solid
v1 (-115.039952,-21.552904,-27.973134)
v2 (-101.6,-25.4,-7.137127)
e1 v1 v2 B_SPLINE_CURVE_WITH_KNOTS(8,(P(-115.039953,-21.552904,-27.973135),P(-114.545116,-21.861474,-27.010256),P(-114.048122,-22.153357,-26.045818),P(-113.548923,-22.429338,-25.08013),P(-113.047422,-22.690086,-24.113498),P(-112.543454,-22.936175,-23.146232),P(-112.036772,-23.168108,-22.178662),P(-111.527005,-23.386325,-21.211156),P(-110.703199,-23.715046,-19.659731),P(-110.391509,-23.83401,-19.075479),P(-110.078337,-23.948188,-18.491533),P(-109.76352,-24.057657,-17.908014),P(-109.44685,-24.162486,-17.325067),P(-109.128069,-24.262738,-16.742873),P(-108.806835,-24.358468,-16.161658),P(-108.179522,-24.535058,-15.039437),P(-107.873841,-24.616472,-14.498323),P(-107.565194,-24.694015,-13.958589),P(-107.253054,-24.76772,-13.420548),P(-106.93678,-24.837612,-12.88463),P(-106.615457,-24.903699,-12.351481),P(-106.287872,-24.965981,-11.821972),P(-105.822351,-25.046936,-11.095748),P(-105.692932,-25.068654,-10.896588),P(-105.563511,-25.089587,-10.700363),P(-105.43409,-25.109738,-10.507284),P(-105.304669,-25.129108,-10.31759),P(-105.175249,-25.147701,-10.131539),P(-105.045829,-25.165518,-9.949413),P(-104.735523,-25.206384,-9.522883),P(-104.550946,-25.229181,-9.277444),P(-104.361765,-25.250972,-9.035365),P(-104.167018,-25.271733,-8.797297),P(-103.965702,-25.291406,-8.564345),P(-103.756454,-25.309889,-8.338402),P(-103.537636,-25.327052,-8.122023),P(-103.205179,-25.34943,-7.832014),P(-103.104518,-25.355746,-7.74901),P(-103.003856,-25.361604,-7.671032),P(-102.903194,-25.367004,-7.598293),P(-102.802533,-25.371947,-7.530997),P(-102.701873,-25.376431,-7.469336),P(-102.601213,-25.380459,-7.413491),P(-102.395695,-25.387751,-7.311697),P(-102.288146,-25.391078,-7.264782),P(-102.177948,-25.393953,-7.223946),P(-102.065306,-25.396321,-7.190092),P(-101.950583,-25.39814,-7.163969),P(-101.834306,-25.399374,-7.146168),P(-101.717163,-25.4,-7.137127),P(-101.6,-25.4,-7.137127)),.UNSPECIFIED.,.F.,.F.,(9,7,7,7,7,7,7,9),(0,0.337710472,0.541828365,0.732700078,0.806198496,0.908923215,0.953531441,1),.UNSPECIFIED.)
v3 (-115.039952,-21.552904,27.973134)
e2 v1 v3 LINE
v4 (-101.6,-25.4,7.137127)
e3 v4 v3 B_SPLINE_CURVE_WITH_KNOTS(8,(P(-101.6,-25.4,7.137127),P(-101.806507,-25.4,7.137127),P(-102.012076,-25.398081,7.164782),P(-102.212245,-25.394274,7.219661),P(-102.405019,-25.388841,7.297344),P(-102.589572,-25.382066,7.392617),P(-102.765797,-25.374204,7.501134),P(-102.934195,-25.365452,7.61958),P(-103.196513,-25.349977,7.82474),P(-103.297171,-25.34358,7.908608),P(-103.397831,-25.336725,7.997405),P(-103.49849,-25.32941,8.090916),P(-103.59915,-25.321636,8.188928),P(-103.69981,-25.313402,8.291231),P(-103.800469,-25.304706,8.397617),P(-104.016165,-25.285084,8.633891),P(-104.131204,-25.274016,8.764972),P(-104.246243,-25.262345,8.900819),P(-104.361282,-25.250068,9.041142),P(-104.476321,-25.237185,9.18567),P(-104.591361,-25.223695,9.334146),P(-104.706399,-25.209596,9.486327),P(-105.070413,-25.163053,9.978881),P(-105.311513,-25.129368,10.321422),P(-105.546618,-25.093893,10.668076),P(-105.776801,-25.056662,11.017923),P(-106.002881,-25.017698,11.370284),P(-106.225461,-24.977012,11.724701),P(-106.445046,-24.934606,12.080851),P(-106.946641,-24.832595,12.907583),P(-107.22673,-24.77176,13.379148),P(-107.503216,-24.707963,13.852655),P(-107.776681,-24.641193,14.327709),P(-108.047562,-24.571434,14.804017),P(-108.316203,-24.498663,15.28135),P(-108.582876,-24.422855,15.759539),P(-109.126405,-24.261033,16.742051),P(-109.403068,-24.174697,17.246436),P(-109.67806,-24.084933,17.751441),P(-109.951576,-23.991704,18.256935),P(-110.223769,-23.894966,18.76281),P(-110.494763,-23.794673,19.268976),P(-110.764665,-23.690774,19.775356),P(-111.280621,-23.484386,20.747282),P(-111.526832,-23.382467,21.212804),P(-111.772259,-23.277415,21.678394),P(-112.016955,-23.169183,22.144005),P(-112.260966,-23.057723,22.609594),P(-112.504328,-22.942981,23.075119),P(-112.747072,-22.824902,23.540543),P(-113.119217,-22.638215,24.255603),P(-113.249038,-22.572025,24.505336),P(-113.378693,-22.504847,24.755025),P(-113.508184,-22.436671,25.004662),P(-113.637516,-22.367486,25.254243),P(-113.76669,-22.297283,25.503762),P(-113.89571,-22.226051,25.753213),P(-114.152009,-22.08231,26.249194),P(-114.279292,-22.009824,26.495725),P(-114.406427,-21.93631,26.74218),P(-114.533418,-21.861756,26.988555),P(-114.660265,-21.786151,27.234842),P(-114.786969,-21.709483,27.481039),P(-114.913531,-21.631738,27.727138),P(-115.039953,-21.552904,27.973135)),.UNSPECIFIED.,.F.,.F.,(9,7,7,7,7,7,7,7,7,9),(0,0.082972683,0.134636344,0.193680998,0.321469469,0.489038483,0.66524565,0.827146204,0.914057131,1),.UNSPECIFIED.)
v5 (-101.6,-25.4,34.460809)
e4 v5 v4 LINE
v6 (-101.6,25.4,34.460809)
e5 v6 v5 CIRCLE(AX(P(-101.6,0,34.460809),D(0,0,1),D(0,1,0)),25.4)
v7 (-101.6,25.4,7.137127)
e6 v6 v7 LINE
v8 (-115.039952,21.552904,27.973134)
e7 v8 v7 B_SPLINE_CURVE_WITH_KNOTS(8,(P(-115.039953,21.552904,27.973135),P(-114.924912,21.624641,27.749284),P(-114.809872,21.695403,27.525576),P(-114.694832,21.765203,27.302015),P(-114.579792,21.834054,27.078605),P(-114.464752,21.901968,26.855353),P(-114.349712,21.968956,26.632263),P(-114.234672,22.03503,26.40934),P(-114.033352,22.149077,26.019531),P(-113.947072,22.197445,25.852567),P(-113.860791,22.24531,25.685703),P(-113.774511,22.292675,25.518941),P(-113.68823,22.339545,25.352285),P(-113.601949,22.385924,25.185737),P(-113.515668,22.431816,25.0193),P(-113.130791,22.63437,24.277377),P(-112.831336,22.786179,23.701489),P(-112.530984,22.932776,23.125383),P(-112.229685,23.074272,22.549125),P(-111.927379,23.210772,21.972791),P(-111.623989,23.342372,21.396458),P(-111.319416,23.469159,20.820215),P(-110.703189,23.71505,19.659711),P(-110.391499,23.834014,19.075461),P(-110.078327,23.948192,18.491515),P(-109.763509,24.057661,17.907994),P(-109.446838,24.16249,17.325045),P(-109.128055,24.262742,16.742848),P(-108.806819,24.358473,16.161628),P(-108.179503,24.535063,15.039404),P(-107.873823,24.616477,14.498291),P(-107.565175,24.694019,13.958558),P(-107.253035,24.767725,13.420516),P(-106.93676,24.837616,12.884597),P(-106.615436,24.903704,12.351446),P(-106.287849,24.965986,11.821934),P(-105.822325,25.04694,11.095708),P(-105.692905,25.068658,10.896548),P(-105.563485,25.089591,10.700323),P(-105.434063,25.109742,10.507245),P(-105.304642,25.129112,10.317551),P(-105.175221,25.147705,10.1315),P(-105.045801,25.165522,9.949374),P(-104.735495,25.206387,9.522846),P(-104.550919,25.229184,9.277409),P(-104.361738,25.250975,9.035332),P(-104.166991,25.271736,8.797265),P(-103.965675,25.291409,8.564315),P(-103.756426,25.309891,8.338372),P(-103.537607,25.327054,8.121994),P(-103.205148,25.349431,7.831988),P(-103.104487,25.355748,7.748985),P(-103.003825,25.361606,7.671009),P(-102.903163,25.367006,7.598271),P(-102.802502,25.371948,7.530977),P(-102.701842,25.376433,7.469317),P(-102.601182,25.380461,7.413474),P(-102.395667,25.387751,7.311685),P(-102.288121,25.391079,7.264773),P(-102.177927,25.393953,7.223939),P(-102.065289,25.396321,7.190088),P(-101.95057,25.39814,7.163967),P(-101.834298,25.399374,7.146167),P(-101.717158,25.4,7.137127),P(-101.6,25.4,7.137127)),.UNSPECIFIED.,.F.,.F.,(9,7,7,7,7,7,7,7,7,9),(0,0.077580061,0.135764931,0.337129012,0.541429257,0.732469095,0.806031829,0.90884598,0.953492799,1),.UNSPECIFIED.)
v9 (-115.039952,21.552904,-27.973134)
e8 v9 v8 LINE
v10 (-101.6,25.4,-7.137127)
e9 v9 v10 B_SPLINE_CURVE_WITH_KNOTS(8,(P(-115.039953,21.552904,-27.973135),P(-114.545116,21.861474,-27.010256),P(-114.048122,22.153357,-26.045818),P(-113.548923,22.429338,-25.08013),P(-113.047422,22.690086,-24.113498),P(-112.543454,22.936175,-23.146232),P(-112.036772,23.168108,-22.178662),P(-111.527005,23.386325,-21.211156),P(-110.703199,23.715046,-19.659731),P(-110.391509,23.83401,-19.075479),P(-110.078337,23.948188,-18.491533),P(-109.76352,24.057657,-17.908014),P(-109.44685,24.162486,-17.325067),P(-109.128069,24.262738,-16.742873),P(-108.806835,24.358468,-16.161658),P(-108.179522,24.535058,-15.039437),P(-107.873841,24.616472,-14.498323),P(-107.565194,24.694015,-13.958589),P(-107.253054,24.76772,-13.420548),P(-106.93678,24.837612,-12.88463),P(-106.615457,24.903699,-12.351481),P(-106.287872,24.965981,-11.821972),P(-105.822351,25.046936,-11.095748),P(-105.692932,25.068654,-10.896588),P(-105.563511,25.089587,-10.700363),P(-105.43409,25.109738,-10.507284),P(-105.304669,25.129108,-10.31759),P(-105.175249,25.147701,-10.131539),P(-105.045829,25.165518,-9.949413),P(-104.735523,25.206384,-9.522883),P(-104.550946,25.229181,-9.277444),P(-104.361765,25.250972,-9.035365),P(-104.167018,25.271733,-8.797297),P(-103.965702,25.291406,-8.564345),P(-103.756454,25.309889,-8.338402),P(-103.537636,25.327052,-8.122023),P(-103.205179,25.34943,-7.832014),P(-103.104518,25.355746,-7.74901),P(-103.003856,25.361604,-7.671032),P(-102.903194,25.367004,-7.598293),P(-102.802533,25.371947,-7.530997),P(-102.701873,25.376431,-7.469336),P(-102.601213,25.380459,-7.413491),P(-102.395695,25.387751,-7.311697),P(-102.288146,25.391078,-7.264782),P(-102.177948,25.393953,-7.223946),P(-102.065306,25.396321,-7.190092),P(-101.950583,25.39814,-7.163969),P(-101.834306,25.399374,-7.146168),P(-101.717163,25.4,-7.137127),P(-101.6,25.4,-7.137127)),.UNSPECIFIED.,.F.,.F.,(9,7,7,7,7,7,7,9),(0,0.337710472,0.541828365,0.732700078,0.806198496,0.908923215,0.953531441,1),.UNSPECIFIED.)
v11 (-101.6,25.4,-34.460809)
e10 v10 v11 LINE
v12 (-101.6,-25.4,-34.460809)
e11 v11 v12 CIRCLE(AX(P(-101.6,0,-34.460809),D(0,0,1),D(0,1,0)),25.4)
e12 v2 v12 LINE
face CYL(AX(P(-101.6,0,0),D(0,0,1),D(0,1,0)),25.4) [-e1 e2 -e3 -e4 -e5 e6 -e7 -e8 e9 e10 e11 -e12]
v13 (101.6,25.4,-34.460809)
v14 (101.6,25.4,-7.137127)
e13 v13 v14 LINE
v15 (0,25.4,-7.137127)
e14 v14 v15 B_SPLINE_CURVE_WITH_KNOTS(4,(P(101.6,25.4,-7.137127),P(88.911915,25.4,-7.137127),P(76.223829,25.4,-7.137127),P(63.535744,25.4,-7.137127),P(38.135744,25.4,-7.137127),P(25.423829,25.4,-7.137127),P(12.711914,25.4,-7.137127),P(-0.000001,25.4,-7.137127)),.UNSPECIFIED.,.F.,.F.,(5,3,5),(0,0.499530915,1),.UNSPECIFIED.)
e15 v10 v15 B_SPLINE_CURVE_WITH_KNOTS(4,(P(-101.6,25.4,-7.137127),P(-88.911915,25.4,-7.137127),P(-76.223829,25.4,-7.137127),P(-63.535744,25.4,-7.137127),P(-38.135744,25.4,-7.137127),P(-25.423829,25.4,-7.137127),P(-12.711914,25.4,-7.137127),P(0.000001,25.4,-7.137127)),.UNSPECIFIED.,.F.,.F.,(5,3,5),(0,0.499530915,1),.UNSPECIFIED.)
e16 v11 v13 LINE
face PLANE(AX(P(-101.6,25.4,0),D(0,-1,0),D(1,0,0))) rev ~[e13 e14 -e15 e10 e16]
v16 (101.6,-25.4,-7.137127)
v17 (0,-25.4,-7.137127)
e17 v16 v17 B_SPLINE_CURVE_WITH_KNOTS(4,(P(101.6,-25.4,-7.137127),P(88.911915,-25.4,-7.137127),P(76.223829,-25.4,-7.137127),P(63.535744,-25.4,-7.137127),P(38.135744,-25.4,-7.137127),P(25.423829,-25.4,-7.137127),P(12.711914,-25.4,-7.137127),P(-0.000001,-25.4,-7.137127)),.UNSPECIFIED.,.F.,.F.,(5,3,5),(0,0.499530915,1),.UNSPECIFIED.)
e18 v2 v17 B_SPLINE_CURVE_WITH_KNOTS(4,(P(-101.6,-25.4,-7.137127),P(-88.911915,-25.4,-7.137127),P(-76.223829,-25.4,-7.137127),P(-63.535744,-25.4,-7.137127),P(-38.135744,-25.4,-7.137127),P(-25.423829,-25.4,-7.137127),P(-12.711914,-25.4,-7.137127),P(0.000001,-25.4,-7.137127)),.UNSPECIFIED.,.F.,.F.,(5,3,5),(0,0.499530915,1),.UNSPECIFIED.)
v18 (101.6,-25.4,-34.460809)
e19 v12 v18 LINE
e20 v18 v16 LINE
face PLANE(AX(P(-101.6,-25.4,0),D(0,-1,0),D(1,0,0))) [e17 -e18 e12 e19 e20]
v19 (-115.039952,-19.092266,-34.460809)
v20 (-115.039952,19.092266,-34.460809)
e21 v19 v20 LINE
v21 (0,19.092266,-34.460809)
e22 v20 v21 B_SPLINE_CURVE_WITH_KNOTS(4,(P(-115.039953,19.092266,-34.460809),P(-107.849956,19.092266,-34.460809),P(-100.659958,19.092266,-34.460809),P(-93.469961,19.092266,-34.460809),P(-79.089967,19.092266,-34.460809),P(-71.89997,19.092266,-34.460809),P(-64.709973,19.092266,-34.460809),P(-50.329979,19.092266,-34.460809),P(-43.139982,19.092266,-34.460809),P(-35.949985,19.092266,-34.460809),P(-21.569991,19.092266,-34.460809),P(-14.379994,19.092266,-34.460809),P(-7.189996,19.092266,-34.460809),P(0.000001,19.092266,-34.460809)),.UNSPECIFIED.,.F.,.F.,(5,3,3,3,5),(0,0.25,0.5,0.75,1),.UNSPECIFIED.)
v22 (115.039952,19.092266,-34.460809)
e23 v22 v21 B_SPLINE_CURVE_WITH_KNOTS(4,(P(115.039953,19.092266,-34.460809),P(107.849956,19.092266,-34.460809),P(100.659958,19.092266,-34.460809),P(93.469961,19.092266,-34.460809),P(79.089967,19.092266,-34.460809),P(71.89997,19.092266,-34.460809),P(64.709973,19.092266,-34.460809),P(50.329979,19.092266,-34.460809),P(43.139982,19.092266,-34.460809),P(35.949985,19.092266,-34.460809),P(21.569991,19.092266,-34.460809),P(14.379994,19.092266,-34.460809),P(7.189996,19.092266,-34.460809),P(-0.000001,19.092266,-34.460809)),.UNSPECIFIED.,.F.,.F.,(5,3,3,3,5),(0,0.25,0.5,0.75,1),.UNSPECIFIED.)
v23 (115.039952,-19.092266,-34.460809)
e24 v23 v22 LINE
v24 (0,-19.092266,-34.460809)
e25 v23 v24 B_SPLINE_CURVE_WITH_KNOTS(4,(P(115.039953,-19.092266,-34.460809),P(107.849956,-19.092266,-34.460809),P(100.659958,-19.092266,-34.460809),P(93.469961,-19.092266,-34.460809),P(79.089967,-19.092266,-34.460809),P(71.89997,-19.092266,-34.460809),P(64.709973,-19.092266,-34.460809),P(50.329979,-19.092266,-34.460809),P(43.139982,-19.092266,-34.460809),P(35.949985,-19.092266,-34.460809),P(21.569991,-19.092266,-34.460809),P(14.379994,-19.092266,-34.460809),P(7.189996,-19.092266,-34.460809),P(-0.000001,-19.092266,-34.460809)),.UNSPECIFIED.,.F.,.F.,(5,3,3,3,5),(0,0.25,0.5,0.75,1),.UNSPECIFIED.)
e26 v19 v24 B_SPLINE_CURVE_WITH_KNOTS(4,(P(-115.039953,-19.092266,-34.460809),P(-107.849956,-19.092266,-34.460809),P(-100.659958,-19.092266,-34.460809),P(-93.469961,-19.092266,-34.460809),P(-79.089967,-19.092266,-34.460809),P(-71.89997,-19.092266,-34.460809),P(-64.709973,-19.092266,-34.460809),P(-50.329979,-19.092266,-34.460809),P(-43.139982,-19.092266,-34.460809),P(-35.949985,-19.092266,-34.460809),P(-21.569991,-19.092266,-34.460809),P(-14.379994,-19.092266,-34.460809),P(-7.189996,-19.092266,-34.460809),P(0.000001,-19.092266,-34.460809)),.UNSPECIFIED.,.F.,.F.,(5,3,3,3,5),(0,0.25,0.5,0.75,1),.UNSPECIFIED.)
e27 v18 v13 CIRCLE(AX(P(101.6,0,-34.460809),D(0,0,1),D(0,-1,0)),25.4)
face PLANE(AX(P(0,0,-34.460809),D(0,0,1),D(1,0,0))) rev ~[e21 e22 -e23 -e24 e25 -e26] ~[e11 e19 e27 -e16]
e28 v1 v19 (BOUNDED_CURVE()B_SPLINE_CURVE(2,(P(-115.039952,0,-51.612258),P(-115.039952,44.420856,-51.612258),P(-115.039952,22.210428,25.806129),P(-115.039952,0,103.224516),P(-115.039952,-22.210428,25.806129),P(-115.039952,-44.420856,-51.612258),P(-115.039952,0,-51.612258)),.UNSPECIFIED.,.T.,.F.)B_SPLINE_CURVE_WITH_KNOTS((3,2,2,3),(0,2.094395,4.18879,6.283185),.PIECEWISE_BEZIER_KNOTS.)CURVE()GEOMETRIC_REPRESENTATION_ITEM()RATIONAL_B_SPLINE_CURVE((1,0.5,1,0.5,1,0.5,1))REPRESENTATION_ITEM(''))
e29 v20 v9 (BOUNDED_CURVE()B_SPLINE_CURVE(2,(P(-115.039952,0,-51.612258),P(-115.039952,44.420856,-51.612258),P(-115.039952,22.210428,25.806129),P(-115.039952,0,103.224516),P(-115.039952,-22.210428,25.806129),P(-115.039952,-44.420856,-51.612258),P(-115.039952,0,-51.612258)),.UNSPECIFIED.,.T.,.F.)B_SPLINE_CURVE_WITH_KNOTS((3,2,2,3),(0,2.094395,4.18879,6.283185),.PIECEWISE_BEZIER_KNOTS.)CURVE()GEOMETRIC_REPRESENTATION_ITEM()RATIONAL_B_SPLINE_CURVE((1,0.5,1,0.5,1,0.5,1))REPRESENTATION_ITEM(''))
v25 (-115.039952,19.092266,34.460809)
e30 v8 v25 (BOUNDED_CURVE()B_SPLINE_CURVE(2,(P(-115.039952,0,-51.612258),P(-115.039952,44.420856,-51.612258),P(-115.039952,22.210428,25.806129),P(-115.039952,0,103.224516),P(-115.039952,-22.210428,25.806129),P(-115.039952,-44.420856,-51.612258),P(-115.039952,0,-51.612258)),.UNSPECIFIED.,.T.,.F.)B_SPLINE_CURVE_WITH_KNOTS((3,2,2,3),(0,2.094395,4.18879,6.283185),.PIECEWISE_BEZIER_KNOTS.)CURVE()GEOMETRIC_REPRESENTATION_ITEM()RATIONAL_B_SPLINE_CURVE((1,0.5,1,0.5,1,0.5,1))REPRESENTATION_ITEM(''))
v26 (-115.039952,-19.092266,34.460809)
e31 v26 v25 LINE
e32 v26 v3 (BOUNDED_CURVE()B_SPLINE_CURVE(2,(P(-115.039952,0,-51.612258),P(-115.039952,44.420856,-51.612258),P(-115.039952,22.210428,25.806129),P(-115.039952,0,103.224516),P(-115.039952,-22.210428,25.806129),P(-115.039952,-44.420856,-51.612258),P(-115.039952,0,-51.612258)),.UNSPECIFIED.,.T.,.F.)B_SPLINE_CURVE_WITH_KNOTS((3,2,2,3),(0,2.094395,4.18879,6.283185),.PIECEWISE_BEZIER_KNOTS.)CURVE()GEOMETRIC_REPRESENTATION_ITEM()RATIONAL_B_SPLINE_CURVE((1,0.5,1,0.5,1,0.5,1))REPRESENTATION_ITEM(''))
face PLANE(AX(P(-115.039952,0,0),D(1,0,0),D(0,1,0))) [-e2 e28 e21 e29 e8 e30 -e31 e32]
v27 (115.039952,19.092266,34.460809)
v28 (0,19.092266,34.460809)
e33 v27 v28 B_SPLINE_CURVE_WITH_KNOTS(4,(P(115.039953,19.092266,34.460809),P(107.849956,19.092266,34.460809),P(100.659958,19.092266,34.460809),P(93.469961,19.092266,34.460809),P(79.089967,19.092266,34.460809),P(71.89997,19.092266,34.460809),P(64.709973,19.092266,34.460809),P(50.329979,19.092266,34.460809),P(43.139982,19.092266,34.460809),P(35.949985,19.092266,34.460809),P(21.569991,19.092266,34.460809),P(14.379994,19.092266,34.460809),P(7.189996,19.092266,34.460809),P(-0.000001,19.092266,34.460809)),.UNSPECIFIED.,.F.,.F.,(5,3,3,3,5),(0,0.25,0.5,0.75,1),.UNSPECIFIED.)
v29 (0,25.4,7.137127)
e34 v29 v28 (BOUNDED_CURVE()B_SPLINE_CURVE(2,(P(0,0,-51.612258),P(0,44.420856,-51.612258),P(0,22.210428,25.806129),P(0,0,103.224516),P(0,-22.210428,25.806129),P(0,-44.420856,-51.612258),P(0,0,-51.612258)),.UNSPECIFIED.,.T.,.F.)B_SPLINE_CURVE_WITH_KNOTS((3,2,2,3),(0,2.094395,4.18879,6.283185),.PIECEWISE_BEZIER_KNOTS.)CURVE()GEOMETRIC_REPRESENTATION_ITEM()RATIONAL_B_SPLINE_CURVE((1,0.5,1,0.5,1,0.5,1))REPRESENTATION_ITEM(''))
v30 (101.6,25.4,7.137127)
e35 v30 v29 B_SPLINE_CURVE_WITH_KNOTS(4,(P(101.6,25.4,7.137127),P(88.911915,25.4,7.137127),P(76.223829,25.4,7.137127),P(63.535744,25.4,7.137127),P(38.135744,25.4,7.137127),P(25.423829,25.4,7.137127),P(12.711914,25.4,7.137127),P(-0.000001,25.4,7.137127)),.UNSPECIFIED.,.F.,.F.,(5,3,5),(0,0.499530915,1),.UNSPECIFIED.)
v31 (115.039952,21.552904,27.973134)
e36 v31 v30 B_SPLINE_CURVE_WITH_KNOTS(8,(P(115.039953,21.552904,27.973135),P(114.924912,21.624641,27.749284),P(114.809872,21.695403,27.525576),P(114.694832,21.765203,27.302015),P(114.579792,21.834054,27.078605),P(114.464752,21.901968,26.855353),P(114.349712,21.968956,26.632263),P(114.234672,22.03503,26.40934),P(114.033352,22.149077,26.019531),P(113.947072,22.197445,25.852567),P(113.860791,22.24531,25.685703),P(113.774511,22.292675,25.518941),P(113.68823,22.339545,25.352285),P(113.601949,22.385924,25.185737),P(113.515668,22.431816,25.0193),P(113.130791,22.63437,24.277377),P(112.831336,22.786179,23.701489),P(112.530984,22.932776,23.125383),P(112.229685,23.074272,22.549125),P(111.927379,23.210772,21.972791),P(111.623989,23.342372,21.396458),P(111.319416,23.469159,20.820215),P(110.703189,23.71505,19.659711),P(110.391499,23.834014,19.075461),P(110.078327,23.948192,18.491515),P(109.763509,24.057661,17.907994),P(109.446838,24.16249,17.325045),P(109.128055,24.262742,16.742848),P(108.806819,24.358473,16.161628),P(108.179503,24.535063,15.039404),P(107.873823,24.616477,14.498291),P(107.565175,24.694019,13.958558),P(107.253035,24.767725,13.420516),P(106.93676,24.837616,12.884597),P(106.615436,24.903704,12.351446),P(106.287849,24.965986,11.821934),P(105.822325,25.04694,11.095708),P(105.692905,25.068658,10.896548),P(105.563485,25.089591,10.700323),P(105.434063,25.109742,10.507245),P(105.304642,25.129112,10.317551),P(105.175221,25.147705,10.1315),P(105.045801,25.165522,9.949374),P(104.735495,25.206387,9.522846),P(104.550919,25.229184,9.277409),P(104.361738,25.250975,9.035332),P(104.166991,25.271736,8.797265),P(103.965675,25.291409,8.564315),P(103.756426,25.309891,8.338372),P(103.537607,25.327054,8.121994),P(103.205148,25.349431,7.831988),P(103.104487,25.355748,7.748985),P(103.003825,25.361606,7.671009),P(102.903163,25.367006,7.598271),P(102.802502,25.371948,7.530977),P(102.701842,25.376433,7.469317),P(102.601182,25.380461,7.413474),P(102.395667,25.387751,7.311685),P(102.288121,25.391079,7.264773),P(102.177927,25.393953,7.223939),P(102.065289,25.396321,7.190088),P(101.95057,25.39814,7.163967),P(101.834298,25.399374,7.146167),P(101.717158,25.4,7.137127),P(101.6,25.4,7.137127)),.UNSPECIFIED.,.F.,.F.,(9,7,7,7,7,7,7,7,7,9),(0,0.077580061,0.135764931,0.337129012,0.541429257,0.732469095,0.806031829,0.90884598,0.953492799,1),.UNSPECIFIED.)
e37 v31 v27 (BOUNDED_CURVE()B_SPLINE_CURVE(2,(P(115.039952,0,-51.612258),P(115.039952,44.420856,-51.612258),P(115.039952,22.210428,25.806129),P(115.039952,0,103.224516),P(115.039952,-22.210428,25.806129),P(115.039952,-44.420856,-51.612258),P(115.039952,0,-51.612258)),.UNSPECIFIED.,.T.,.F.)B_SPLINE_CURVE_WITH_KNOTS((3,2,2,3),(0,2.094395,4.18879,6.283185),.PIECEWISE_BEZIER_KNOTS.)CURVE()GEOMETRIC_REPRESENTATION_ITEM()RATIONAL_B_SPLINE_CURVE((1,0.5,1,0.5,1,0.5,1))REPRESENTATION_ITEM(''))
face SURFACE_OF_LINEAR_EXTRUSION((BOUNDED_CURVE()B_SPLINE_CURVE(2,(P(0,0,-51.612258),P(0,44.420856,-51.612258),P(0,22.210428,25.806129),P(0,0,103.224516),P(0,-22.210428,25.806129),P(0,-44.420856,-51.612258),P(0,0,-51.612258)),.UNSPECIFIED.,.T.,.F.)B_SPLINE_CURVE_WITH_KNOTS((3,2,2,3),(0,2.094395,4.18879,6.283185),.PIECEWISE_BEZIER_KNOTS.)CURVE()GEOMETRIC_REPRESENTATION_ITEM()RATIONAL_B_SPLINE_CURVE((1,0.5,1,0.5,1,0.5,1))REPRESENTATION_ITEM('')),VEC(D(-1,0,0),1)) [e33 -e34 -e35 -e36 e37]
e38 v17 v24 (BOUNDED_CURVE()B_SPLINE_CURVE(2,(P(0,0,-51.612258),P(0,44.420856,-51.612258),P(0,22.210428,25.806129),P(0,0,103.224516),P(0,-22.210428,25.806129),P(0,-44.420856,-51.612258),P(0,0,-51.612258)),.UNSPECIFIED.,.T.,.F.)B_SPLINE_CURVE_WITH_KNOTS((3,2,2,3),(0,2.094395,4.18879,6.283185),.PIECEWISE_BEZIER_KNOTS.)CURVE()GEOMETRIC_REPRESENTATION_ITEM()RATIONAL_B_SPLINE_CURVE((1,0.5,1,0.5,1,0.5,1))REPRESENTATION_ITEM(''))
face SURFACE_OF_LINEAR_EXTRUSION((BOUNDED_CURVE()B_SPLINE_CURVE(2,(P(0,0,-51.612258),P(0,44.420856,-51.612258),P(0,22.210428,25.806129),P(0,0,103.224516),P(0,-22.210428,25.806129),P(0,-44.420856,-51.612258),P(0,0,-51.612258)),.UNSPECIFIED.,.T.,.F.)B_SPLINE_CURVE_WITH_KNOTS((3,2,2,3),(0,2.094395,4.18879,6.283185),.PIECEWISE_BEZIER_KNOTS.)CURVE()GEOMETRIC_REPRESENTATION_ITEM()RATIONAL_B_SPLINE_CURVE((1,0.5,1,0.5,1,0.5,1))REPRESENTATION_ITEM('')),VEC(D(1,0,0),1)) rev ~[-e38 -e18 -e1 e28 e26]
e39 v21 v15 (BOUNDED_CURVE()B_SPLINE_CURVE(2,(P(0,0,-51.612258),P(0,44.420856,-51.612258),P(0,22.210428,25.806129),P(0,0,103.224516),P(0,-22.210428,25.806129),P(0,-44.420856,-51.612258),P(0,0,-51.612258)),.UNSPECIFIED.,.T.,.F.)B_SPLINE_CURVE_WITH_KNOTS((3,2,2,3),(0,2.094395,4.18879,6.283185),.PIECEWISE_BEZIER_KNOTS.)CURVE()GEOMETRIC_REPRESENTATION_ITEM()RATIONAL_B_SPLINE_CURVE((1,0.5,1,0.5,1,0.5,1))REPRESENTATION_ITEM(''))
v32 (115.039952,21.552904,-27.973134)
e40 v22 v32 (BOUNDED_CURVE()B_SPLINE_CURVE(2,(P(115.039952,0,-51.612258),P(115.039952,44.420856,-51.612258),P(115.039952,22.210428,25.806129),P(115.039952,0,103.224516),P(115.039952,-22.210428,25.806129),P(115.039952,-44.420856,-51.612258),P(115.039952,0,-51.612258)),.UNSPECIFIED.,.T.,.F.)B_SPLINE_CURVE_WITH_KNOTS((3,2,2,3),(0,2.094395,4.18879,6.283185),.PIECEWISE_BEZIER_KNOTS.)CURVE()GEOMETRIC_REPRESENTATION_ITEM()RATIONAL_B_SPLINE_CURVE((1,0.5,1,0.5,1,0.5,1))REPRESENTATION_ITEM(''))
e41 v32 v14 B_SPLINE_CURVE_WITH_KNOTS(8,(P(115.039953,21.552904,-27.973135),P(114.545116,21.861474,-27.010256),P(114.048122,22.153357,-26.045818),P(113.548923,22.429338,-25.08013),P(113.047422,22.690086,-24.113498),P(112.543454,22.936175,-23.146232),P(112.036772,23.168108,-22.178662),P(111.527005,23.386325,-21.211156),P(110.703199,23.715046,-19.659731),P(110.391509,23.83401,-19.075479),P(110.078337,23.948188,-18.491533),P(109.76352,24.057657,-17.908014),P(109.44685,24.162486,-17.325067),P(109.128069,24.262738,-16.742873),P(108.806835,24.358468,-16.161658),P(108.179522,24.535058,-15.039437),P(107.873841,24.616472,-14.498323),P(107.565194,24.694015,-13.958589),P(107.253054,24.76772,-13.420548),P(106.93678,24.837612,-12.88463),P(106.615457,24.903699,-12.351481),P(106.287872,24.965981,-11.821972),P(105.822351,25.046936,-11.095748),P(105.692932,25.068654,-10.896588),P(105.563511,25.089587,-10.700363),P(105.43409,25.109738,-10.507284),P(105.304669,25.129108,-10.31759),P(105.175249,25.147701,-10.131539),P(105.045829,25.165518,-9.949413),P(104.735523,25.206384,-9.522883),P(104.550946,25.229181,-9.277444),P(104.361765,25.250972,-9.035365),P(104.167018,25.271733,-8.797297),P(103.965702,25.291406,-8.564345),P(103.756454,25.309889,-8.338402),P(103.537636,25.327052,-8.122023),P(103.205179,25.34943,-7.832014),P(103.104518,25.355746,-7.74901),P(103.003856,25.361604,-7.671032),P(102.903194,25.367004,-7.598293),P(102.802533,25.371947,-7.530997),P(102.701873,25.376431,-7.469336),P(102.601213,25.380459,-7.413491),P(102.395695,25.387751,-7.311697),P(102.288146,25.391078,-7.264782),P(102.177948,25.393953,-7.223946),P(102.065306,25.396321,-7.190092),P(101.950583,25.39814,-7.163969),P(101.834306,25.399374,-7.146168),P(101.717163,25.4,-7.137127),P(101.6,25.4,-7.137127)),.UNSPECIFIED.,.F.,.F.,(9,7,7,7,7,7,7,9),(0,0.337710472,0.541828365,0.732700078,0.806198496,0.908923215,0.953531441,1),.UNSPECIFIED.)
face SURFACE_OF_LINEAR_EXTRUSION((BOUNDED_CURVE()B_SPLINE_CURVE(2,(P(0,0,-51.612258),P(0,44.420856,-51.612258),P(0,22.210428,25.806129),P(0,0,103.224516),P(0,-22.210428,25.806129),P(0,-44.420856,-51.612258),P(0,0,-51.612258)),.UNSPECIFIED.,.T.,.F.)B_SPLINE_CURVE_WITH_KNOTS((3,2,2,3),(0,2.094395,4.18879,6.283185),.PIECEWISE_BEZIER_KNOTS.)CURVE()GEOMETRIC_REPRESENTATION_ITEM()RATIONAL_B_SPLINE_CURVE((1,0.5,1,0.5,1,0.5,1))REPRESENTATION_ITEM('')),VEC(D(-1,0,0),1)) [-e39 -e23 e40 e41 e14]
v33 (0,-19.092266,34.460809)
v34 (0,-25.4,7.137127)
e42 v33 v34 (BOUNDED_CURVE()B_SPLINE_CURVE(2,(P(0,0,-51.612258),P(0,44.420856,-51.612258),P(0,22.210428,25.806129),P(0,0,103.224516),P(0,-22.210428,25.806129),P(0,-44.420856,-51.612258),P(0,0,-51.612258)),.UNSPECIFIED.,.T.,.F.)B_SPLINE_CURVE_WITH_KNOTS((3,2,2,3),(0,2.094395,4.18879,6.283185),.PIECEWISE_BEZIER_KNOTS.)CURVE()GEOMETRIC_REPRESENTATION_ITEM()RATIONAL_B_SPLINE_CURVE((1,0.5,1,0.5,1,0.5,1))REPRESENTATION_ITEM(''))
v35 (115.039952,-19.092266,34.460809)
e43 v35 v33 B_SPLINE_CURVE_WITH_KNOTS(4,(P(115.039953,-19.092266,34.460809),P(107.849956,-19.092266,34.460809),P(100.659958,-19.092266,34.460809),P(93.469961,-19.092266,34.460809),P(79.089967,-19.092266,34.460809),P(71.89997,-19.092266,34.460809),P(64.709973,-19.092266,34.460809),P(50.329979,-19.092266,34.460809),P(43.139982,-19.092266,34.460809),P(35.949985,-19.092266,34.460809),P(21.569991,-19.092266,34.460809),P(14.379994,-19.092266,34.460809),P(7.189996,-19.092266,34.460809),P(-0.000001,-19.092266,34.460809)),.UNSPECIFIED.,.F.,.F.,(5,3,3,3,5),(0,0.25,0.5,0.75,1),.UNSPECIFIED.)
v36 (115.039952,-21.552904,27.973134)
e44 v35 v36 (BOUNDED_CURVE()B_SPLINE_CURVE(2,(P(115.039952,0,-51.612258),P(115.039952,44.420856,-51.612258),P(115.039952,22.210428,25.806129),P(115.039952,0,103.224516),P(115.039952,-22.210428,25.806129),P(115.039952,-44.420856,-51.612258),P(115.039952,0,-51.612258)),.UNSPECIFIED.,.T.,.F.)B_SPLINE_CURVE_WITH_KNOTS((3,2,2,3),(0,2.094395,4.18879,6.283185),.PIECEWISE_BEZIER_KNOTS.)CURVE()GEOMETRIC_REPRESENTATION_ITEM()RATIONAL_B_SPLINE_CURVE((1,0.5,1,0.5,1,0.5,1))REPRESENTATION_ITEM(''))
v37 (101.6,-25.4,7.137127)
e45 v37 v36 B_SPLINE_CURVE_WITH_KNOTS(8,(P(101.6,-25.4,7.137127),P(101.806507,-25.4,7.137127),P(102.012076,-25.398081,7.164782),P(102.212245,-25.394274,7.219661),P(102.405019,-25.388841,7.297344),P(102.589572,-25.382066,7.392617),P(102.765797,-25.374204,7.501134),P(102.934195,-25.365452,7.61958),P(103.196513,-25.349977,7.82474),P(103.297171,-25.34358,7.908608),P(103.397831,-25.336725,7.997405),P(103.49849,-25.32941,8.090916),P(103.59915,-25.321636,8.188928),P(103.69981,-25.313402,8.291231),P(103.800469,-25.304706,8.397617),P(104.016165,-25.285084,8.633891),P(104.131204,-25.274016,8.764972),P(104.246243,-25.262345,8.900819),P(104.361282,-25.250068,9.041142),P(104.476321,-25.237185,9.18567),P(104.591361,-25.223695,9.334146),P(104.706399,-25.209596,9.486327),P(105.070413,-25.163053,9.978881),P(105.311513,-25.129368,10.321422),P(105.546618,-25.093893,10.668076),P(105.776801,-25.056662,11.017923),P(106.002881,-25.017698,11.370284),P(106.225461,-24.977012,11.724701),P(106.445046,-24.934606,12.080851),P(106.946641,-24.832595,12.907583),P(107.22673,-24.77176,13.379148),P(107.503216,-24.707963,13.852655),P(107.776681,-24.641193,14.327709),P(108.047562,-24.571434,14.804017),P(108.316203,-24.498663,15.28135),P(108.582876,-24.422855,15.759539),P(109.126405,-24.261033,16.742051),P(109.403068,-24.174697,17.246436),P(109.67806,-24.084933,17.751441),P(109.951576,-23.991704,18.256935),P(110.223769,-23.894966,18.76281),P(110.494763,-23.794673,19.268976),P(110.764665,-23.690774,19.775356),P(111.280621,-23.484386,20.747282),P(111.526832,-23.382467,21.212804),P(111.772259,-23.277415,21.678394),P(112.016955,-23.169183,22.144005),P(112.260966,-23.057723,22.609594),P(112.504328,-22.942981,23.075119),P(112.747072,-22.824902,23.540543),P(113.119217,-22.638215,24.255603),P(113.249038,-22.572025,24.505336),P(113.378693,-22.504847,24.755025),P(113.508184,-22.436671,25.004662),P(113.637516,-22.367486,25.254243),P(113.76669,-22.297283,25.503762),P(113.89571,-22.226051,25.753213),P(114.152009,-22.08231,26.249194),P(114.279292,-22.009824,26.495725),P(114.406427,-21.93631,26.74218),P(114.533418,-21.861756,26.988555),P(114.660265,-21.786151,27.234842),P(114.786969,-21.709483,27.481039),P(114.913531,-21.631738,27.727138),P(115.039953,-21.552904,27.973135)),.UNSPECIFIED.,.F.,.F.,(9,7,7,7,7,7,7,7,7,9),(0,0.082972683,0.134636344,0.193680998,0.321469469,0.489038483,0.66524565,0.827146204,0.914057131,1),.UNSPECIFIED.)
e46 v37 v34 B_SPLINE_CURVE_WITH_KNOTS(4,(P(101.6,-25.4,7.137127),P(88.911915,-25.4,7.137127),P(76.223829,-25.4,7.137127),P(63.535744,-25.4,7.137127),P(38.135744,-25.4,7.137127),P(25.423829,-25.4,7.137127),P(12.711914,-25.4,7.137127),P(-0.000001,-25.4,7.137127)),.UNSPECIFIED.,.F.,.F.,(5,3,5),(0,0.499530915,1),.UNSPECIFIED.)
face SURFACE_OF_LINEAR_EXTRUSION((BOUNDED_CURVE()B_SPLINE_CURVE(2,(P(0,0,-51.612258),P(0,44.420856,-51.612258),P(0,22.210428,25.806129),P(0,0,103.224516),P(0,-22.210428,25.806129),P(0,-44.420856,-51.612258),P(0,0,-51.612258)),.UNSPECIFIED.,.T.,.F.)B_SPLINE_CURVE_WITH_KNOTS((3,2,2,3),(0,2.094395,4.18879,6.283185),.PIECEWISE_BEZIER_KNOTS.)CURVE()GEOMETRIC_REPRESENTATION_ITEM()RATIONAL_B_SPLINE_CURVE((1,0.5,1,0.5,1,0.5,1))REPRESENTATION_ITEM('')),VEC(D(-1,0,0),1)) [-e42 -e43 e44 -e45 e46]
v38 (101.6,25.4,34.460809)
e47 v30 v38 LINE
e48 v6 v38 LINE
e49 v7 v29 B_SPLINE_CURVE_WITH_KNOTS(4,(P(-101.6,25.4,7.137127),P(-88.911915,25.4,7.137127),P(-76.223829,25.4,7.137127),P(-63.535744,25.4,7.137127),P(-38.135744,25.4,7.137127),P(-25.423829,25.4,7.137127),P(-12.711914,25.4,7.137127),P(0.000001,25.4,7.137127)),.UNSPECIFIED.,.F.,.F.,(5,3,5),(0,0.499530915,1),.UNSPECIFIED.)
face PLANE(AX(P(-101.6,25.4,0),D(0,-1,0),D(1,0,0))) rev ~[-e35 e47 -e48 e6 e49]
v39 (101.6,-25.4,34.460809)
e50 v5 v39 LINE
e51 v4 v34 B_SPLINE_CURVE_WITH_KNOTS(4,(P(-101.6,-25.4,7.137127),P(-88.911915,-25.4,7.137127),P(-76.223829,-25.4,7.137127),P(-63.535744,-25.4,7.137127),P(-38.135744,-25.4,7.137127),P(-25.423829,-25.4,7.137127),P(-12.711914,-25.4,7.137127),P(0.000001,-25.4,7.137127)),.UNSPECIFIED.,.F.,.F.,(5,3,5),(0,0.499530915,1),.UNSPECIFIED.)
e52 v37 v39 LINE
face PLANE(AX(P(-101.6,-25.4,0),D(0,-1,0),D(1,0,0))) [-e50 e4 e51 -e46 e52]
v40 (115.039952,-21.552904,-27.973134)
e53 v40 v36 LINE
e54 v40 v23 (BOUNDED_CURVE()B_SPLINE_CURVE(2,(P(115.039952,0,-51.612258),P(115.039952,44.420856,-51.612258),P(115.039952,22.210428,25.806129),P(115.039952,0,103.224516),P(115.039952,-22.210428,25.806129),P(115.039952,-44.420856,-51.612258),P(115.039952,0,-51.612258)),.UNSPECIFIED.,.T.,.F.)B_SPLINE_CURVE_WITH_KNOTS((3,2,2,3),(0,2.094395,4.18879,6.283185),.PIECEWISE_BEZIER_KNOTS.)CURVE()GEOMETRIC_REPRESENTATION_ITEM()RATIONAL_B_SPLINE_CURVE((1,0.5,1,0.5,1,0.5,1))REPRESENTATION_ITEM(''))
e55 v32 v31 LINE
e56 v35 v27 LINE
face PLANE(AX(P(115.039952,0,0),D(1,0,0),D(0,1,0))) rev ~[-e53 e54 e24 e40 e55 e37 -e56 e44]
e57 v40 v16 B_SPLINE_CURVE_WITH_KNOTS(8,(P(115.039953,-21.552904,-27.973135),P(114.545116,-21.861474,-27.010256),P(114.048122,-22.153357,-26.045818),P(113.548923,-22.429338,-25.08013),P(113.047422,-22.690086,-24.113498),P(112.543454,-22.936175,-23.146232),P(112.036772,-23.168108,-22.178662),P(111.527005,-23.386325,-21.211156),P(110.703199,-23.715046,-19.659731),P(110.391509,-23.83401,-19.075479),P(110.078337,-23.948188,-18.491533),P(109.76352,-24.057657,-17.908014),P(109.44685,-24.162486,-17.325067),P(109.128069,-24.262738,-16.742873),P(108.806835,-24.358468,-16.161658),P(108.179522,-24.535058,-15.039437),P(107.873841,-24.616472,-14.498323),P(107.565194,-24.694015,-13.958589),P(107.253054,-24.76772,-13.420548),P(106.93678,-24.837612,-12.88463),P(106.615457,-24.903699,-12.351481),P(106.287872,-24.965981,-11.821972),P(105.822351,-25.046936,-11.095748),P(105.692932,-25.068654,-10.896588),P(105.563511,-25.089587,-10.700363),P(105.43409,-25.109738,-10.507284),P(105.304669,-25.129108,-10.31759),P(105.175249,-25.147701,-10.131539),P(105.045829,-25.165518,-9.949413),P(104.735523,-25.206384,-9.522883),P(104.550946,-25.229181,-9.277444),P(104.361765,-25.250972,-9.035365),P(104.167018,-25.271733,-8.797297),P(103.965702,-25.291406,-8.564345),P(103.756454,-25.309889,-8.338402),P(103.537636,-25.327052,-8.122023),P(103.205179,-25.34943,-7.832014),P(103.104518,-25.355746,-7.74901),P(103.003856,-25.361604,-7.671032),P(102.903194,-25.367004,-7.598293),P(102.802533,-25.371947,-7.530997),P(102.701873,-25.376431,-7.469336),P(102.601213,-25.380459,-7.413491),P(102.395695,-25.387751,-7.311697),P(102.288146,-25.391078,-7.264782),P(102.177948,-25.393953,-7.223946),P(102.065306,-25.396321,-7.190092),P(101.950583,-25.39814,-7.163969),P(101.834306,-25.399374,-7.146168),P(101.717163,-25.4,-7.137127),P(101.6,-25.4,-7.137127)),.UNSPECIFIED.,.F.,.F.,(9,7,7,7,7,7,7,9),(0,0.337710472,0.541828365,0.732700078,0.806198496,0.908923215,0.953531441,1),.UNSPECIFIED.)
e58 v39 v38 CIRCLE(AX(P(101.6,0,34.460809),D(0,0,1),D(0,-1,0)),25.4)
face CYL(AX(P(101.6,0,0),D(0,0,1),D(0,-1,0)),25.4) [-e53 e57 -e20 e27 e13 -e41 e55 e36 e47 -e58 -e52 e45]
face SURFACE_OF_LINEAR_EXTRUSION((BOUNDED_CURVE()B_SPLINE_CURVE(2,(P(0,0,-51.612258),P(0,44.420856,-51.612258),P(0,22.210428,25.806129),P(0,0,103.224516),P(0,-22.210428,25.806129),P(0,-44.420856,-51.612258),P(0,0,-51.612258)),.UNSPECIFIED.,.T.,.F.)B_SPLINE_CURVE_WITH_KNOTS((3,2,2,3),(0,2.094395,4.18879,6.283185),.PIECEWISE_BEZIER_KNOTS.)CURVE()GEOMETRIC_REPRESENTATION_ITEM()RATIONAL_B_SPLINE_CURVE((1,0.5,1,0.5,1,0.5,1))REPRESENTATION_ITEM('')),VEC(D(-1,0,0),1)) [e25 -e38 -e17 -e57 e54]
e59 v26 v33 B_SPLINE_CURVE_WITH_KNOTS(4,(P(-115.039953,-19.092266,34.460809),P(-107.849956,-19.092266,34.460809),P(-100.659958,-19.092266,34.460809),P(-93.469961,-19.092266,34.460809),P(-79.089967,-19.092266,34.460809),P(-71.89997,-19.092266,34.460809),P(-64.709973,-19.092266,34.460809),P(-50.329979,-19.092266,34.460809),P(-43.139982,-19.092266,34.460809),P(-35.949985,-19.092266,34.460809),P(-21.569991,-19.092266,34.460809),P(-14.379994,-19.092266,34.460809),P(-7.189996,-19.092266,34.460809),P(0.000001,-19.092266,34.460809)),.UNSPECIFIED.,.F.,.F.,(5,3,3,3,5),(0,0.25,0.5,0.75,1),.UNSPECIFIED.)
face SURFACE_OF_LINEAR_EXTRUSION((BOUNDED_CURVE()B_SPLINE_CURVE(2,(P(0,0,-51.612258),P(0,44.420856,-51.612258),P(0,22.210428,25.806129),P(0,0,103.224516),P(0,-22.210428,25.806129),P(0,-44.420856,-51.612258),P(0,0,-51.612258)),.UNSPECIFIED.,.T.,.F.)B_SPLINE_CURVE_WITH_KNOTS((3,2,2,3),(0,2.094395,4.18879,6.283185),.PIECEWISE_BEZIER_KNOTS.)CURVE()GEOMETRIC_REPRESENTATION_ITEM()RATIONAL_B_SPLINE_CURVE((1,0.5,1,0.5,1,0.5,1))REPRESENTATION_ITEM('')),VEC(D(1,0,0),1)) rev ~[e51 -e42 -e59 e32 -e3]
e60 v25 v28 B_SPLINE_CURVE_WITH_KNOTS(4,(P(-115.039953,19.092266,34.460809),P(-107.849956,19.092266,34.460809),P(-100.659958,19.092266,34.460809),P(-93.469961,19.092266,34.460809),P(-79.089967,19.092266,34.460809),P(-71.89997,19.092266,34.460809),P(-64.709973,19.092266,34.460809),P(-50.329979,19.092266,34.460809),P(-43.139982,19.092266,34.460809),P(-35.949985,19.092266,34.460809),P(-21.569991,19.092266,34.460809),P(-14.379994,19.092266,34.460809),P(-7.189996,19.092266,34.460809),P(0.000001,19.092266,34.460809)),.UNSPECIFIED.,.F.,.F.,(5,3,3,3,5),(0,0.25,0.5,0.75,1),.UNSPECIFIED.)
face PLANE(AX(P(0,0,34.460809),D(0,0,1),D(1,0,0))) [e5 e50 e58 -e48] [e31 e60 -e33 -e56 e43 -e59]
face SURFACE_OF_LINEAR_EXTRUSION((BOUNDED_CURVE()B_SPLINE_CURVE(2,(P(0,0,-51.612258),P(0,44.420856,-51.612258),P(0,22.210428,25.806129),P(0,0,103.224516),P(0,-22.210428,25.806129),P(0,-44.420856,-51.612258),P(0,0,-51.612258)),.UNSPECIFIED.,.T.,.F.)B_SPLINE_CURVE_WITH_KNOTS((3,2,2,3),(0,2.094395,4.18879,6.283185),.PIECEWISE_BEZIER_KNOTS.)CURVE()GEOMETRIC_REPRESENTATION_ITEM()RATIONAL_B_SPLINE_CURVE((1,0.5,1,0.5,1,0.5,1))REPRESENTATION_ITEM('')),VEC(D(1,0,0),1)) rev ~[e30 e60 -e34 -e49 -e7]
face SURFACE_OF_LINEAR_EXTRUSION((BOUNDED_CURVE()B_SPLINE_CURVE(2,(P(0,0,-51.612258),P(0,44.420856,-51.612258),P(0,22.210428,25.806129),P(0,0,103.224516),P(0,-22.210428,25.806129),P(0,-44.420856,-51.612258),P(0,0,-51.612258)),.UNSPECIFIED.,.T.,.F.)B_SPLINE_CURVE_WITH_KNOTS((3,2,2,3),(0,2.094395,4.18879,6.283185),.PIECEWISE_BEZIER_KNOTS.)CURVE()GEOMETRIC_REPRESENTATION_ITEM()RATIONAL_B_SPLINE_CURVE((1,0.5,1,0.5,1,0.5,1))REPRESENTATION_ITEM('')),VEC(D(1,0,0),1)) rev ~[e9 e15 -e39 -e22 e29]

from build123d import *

# Parameters (mm, degrees)
F0_W     = 203.2
F0_H     = 50.8
F1_DEPTH = 34.460809
F3_DEPTH = 100.657105
F5_DEPTH = 115.039952


with BuildPart() as f1:
    # F0 (on Top) → F1 (new body, symmetric)
    with BuildSketch(Plane.XY):
        Rectangle(F0_W, F0_H)
        with BuildLine():
            Line((101.6, 25.4), (101.6, -25.4))
            ThreePointArc((101.6, -25.4), (127, 0), (101.6, 25.4))
        make_face()
        with BuildLine():
            ThreePointArc((-101.6, 25.4), (-127, 0), (-101.6, -25.4))
            Line((-101.6, -25.4), (-101.6, 25.4))
        make_face()
    extrude(amount=F1_DEPTH, both=True)

    # F2 (on Right) → F3 (cut, symmetric)
    with BuildSketch(Plane.YZ):
        Polygon((-7.16202, 12.006879), (7.16202, 12.006879), (33.071622, 75.201049), (-33.071622, 75.201049), align=None)
    extrude(amount=F3_DEPTH, both=True, mode=Mode.SUBTRACT)

    # F4 (on Right) → F5 (cut, symmetric)
    with BuildSketch(Plane.YZ):
        with BuildLine():
            add(Edge.make_bspline(
                [(0, -51.612258), (44.420856, -51.612258), (22.210428, 25.806129), (0, 103.224516), (-22.210428, 25.806129), (-44.420856, -51.612258), (0, -51.612258)],
                knots=[0, 0, 0, 2.094395, 2.094395, 4.18879, 4.18879, 6.283185, 6.283185, 6.283185], degree=2, weights=[1, 0.5, 1, 0.5, 1, 0.5, 1]))
        make_face()
    extrude(amount=F5_DEPTH, both=True, mode=Mode.SUBTRACT)


solid = f1.part
